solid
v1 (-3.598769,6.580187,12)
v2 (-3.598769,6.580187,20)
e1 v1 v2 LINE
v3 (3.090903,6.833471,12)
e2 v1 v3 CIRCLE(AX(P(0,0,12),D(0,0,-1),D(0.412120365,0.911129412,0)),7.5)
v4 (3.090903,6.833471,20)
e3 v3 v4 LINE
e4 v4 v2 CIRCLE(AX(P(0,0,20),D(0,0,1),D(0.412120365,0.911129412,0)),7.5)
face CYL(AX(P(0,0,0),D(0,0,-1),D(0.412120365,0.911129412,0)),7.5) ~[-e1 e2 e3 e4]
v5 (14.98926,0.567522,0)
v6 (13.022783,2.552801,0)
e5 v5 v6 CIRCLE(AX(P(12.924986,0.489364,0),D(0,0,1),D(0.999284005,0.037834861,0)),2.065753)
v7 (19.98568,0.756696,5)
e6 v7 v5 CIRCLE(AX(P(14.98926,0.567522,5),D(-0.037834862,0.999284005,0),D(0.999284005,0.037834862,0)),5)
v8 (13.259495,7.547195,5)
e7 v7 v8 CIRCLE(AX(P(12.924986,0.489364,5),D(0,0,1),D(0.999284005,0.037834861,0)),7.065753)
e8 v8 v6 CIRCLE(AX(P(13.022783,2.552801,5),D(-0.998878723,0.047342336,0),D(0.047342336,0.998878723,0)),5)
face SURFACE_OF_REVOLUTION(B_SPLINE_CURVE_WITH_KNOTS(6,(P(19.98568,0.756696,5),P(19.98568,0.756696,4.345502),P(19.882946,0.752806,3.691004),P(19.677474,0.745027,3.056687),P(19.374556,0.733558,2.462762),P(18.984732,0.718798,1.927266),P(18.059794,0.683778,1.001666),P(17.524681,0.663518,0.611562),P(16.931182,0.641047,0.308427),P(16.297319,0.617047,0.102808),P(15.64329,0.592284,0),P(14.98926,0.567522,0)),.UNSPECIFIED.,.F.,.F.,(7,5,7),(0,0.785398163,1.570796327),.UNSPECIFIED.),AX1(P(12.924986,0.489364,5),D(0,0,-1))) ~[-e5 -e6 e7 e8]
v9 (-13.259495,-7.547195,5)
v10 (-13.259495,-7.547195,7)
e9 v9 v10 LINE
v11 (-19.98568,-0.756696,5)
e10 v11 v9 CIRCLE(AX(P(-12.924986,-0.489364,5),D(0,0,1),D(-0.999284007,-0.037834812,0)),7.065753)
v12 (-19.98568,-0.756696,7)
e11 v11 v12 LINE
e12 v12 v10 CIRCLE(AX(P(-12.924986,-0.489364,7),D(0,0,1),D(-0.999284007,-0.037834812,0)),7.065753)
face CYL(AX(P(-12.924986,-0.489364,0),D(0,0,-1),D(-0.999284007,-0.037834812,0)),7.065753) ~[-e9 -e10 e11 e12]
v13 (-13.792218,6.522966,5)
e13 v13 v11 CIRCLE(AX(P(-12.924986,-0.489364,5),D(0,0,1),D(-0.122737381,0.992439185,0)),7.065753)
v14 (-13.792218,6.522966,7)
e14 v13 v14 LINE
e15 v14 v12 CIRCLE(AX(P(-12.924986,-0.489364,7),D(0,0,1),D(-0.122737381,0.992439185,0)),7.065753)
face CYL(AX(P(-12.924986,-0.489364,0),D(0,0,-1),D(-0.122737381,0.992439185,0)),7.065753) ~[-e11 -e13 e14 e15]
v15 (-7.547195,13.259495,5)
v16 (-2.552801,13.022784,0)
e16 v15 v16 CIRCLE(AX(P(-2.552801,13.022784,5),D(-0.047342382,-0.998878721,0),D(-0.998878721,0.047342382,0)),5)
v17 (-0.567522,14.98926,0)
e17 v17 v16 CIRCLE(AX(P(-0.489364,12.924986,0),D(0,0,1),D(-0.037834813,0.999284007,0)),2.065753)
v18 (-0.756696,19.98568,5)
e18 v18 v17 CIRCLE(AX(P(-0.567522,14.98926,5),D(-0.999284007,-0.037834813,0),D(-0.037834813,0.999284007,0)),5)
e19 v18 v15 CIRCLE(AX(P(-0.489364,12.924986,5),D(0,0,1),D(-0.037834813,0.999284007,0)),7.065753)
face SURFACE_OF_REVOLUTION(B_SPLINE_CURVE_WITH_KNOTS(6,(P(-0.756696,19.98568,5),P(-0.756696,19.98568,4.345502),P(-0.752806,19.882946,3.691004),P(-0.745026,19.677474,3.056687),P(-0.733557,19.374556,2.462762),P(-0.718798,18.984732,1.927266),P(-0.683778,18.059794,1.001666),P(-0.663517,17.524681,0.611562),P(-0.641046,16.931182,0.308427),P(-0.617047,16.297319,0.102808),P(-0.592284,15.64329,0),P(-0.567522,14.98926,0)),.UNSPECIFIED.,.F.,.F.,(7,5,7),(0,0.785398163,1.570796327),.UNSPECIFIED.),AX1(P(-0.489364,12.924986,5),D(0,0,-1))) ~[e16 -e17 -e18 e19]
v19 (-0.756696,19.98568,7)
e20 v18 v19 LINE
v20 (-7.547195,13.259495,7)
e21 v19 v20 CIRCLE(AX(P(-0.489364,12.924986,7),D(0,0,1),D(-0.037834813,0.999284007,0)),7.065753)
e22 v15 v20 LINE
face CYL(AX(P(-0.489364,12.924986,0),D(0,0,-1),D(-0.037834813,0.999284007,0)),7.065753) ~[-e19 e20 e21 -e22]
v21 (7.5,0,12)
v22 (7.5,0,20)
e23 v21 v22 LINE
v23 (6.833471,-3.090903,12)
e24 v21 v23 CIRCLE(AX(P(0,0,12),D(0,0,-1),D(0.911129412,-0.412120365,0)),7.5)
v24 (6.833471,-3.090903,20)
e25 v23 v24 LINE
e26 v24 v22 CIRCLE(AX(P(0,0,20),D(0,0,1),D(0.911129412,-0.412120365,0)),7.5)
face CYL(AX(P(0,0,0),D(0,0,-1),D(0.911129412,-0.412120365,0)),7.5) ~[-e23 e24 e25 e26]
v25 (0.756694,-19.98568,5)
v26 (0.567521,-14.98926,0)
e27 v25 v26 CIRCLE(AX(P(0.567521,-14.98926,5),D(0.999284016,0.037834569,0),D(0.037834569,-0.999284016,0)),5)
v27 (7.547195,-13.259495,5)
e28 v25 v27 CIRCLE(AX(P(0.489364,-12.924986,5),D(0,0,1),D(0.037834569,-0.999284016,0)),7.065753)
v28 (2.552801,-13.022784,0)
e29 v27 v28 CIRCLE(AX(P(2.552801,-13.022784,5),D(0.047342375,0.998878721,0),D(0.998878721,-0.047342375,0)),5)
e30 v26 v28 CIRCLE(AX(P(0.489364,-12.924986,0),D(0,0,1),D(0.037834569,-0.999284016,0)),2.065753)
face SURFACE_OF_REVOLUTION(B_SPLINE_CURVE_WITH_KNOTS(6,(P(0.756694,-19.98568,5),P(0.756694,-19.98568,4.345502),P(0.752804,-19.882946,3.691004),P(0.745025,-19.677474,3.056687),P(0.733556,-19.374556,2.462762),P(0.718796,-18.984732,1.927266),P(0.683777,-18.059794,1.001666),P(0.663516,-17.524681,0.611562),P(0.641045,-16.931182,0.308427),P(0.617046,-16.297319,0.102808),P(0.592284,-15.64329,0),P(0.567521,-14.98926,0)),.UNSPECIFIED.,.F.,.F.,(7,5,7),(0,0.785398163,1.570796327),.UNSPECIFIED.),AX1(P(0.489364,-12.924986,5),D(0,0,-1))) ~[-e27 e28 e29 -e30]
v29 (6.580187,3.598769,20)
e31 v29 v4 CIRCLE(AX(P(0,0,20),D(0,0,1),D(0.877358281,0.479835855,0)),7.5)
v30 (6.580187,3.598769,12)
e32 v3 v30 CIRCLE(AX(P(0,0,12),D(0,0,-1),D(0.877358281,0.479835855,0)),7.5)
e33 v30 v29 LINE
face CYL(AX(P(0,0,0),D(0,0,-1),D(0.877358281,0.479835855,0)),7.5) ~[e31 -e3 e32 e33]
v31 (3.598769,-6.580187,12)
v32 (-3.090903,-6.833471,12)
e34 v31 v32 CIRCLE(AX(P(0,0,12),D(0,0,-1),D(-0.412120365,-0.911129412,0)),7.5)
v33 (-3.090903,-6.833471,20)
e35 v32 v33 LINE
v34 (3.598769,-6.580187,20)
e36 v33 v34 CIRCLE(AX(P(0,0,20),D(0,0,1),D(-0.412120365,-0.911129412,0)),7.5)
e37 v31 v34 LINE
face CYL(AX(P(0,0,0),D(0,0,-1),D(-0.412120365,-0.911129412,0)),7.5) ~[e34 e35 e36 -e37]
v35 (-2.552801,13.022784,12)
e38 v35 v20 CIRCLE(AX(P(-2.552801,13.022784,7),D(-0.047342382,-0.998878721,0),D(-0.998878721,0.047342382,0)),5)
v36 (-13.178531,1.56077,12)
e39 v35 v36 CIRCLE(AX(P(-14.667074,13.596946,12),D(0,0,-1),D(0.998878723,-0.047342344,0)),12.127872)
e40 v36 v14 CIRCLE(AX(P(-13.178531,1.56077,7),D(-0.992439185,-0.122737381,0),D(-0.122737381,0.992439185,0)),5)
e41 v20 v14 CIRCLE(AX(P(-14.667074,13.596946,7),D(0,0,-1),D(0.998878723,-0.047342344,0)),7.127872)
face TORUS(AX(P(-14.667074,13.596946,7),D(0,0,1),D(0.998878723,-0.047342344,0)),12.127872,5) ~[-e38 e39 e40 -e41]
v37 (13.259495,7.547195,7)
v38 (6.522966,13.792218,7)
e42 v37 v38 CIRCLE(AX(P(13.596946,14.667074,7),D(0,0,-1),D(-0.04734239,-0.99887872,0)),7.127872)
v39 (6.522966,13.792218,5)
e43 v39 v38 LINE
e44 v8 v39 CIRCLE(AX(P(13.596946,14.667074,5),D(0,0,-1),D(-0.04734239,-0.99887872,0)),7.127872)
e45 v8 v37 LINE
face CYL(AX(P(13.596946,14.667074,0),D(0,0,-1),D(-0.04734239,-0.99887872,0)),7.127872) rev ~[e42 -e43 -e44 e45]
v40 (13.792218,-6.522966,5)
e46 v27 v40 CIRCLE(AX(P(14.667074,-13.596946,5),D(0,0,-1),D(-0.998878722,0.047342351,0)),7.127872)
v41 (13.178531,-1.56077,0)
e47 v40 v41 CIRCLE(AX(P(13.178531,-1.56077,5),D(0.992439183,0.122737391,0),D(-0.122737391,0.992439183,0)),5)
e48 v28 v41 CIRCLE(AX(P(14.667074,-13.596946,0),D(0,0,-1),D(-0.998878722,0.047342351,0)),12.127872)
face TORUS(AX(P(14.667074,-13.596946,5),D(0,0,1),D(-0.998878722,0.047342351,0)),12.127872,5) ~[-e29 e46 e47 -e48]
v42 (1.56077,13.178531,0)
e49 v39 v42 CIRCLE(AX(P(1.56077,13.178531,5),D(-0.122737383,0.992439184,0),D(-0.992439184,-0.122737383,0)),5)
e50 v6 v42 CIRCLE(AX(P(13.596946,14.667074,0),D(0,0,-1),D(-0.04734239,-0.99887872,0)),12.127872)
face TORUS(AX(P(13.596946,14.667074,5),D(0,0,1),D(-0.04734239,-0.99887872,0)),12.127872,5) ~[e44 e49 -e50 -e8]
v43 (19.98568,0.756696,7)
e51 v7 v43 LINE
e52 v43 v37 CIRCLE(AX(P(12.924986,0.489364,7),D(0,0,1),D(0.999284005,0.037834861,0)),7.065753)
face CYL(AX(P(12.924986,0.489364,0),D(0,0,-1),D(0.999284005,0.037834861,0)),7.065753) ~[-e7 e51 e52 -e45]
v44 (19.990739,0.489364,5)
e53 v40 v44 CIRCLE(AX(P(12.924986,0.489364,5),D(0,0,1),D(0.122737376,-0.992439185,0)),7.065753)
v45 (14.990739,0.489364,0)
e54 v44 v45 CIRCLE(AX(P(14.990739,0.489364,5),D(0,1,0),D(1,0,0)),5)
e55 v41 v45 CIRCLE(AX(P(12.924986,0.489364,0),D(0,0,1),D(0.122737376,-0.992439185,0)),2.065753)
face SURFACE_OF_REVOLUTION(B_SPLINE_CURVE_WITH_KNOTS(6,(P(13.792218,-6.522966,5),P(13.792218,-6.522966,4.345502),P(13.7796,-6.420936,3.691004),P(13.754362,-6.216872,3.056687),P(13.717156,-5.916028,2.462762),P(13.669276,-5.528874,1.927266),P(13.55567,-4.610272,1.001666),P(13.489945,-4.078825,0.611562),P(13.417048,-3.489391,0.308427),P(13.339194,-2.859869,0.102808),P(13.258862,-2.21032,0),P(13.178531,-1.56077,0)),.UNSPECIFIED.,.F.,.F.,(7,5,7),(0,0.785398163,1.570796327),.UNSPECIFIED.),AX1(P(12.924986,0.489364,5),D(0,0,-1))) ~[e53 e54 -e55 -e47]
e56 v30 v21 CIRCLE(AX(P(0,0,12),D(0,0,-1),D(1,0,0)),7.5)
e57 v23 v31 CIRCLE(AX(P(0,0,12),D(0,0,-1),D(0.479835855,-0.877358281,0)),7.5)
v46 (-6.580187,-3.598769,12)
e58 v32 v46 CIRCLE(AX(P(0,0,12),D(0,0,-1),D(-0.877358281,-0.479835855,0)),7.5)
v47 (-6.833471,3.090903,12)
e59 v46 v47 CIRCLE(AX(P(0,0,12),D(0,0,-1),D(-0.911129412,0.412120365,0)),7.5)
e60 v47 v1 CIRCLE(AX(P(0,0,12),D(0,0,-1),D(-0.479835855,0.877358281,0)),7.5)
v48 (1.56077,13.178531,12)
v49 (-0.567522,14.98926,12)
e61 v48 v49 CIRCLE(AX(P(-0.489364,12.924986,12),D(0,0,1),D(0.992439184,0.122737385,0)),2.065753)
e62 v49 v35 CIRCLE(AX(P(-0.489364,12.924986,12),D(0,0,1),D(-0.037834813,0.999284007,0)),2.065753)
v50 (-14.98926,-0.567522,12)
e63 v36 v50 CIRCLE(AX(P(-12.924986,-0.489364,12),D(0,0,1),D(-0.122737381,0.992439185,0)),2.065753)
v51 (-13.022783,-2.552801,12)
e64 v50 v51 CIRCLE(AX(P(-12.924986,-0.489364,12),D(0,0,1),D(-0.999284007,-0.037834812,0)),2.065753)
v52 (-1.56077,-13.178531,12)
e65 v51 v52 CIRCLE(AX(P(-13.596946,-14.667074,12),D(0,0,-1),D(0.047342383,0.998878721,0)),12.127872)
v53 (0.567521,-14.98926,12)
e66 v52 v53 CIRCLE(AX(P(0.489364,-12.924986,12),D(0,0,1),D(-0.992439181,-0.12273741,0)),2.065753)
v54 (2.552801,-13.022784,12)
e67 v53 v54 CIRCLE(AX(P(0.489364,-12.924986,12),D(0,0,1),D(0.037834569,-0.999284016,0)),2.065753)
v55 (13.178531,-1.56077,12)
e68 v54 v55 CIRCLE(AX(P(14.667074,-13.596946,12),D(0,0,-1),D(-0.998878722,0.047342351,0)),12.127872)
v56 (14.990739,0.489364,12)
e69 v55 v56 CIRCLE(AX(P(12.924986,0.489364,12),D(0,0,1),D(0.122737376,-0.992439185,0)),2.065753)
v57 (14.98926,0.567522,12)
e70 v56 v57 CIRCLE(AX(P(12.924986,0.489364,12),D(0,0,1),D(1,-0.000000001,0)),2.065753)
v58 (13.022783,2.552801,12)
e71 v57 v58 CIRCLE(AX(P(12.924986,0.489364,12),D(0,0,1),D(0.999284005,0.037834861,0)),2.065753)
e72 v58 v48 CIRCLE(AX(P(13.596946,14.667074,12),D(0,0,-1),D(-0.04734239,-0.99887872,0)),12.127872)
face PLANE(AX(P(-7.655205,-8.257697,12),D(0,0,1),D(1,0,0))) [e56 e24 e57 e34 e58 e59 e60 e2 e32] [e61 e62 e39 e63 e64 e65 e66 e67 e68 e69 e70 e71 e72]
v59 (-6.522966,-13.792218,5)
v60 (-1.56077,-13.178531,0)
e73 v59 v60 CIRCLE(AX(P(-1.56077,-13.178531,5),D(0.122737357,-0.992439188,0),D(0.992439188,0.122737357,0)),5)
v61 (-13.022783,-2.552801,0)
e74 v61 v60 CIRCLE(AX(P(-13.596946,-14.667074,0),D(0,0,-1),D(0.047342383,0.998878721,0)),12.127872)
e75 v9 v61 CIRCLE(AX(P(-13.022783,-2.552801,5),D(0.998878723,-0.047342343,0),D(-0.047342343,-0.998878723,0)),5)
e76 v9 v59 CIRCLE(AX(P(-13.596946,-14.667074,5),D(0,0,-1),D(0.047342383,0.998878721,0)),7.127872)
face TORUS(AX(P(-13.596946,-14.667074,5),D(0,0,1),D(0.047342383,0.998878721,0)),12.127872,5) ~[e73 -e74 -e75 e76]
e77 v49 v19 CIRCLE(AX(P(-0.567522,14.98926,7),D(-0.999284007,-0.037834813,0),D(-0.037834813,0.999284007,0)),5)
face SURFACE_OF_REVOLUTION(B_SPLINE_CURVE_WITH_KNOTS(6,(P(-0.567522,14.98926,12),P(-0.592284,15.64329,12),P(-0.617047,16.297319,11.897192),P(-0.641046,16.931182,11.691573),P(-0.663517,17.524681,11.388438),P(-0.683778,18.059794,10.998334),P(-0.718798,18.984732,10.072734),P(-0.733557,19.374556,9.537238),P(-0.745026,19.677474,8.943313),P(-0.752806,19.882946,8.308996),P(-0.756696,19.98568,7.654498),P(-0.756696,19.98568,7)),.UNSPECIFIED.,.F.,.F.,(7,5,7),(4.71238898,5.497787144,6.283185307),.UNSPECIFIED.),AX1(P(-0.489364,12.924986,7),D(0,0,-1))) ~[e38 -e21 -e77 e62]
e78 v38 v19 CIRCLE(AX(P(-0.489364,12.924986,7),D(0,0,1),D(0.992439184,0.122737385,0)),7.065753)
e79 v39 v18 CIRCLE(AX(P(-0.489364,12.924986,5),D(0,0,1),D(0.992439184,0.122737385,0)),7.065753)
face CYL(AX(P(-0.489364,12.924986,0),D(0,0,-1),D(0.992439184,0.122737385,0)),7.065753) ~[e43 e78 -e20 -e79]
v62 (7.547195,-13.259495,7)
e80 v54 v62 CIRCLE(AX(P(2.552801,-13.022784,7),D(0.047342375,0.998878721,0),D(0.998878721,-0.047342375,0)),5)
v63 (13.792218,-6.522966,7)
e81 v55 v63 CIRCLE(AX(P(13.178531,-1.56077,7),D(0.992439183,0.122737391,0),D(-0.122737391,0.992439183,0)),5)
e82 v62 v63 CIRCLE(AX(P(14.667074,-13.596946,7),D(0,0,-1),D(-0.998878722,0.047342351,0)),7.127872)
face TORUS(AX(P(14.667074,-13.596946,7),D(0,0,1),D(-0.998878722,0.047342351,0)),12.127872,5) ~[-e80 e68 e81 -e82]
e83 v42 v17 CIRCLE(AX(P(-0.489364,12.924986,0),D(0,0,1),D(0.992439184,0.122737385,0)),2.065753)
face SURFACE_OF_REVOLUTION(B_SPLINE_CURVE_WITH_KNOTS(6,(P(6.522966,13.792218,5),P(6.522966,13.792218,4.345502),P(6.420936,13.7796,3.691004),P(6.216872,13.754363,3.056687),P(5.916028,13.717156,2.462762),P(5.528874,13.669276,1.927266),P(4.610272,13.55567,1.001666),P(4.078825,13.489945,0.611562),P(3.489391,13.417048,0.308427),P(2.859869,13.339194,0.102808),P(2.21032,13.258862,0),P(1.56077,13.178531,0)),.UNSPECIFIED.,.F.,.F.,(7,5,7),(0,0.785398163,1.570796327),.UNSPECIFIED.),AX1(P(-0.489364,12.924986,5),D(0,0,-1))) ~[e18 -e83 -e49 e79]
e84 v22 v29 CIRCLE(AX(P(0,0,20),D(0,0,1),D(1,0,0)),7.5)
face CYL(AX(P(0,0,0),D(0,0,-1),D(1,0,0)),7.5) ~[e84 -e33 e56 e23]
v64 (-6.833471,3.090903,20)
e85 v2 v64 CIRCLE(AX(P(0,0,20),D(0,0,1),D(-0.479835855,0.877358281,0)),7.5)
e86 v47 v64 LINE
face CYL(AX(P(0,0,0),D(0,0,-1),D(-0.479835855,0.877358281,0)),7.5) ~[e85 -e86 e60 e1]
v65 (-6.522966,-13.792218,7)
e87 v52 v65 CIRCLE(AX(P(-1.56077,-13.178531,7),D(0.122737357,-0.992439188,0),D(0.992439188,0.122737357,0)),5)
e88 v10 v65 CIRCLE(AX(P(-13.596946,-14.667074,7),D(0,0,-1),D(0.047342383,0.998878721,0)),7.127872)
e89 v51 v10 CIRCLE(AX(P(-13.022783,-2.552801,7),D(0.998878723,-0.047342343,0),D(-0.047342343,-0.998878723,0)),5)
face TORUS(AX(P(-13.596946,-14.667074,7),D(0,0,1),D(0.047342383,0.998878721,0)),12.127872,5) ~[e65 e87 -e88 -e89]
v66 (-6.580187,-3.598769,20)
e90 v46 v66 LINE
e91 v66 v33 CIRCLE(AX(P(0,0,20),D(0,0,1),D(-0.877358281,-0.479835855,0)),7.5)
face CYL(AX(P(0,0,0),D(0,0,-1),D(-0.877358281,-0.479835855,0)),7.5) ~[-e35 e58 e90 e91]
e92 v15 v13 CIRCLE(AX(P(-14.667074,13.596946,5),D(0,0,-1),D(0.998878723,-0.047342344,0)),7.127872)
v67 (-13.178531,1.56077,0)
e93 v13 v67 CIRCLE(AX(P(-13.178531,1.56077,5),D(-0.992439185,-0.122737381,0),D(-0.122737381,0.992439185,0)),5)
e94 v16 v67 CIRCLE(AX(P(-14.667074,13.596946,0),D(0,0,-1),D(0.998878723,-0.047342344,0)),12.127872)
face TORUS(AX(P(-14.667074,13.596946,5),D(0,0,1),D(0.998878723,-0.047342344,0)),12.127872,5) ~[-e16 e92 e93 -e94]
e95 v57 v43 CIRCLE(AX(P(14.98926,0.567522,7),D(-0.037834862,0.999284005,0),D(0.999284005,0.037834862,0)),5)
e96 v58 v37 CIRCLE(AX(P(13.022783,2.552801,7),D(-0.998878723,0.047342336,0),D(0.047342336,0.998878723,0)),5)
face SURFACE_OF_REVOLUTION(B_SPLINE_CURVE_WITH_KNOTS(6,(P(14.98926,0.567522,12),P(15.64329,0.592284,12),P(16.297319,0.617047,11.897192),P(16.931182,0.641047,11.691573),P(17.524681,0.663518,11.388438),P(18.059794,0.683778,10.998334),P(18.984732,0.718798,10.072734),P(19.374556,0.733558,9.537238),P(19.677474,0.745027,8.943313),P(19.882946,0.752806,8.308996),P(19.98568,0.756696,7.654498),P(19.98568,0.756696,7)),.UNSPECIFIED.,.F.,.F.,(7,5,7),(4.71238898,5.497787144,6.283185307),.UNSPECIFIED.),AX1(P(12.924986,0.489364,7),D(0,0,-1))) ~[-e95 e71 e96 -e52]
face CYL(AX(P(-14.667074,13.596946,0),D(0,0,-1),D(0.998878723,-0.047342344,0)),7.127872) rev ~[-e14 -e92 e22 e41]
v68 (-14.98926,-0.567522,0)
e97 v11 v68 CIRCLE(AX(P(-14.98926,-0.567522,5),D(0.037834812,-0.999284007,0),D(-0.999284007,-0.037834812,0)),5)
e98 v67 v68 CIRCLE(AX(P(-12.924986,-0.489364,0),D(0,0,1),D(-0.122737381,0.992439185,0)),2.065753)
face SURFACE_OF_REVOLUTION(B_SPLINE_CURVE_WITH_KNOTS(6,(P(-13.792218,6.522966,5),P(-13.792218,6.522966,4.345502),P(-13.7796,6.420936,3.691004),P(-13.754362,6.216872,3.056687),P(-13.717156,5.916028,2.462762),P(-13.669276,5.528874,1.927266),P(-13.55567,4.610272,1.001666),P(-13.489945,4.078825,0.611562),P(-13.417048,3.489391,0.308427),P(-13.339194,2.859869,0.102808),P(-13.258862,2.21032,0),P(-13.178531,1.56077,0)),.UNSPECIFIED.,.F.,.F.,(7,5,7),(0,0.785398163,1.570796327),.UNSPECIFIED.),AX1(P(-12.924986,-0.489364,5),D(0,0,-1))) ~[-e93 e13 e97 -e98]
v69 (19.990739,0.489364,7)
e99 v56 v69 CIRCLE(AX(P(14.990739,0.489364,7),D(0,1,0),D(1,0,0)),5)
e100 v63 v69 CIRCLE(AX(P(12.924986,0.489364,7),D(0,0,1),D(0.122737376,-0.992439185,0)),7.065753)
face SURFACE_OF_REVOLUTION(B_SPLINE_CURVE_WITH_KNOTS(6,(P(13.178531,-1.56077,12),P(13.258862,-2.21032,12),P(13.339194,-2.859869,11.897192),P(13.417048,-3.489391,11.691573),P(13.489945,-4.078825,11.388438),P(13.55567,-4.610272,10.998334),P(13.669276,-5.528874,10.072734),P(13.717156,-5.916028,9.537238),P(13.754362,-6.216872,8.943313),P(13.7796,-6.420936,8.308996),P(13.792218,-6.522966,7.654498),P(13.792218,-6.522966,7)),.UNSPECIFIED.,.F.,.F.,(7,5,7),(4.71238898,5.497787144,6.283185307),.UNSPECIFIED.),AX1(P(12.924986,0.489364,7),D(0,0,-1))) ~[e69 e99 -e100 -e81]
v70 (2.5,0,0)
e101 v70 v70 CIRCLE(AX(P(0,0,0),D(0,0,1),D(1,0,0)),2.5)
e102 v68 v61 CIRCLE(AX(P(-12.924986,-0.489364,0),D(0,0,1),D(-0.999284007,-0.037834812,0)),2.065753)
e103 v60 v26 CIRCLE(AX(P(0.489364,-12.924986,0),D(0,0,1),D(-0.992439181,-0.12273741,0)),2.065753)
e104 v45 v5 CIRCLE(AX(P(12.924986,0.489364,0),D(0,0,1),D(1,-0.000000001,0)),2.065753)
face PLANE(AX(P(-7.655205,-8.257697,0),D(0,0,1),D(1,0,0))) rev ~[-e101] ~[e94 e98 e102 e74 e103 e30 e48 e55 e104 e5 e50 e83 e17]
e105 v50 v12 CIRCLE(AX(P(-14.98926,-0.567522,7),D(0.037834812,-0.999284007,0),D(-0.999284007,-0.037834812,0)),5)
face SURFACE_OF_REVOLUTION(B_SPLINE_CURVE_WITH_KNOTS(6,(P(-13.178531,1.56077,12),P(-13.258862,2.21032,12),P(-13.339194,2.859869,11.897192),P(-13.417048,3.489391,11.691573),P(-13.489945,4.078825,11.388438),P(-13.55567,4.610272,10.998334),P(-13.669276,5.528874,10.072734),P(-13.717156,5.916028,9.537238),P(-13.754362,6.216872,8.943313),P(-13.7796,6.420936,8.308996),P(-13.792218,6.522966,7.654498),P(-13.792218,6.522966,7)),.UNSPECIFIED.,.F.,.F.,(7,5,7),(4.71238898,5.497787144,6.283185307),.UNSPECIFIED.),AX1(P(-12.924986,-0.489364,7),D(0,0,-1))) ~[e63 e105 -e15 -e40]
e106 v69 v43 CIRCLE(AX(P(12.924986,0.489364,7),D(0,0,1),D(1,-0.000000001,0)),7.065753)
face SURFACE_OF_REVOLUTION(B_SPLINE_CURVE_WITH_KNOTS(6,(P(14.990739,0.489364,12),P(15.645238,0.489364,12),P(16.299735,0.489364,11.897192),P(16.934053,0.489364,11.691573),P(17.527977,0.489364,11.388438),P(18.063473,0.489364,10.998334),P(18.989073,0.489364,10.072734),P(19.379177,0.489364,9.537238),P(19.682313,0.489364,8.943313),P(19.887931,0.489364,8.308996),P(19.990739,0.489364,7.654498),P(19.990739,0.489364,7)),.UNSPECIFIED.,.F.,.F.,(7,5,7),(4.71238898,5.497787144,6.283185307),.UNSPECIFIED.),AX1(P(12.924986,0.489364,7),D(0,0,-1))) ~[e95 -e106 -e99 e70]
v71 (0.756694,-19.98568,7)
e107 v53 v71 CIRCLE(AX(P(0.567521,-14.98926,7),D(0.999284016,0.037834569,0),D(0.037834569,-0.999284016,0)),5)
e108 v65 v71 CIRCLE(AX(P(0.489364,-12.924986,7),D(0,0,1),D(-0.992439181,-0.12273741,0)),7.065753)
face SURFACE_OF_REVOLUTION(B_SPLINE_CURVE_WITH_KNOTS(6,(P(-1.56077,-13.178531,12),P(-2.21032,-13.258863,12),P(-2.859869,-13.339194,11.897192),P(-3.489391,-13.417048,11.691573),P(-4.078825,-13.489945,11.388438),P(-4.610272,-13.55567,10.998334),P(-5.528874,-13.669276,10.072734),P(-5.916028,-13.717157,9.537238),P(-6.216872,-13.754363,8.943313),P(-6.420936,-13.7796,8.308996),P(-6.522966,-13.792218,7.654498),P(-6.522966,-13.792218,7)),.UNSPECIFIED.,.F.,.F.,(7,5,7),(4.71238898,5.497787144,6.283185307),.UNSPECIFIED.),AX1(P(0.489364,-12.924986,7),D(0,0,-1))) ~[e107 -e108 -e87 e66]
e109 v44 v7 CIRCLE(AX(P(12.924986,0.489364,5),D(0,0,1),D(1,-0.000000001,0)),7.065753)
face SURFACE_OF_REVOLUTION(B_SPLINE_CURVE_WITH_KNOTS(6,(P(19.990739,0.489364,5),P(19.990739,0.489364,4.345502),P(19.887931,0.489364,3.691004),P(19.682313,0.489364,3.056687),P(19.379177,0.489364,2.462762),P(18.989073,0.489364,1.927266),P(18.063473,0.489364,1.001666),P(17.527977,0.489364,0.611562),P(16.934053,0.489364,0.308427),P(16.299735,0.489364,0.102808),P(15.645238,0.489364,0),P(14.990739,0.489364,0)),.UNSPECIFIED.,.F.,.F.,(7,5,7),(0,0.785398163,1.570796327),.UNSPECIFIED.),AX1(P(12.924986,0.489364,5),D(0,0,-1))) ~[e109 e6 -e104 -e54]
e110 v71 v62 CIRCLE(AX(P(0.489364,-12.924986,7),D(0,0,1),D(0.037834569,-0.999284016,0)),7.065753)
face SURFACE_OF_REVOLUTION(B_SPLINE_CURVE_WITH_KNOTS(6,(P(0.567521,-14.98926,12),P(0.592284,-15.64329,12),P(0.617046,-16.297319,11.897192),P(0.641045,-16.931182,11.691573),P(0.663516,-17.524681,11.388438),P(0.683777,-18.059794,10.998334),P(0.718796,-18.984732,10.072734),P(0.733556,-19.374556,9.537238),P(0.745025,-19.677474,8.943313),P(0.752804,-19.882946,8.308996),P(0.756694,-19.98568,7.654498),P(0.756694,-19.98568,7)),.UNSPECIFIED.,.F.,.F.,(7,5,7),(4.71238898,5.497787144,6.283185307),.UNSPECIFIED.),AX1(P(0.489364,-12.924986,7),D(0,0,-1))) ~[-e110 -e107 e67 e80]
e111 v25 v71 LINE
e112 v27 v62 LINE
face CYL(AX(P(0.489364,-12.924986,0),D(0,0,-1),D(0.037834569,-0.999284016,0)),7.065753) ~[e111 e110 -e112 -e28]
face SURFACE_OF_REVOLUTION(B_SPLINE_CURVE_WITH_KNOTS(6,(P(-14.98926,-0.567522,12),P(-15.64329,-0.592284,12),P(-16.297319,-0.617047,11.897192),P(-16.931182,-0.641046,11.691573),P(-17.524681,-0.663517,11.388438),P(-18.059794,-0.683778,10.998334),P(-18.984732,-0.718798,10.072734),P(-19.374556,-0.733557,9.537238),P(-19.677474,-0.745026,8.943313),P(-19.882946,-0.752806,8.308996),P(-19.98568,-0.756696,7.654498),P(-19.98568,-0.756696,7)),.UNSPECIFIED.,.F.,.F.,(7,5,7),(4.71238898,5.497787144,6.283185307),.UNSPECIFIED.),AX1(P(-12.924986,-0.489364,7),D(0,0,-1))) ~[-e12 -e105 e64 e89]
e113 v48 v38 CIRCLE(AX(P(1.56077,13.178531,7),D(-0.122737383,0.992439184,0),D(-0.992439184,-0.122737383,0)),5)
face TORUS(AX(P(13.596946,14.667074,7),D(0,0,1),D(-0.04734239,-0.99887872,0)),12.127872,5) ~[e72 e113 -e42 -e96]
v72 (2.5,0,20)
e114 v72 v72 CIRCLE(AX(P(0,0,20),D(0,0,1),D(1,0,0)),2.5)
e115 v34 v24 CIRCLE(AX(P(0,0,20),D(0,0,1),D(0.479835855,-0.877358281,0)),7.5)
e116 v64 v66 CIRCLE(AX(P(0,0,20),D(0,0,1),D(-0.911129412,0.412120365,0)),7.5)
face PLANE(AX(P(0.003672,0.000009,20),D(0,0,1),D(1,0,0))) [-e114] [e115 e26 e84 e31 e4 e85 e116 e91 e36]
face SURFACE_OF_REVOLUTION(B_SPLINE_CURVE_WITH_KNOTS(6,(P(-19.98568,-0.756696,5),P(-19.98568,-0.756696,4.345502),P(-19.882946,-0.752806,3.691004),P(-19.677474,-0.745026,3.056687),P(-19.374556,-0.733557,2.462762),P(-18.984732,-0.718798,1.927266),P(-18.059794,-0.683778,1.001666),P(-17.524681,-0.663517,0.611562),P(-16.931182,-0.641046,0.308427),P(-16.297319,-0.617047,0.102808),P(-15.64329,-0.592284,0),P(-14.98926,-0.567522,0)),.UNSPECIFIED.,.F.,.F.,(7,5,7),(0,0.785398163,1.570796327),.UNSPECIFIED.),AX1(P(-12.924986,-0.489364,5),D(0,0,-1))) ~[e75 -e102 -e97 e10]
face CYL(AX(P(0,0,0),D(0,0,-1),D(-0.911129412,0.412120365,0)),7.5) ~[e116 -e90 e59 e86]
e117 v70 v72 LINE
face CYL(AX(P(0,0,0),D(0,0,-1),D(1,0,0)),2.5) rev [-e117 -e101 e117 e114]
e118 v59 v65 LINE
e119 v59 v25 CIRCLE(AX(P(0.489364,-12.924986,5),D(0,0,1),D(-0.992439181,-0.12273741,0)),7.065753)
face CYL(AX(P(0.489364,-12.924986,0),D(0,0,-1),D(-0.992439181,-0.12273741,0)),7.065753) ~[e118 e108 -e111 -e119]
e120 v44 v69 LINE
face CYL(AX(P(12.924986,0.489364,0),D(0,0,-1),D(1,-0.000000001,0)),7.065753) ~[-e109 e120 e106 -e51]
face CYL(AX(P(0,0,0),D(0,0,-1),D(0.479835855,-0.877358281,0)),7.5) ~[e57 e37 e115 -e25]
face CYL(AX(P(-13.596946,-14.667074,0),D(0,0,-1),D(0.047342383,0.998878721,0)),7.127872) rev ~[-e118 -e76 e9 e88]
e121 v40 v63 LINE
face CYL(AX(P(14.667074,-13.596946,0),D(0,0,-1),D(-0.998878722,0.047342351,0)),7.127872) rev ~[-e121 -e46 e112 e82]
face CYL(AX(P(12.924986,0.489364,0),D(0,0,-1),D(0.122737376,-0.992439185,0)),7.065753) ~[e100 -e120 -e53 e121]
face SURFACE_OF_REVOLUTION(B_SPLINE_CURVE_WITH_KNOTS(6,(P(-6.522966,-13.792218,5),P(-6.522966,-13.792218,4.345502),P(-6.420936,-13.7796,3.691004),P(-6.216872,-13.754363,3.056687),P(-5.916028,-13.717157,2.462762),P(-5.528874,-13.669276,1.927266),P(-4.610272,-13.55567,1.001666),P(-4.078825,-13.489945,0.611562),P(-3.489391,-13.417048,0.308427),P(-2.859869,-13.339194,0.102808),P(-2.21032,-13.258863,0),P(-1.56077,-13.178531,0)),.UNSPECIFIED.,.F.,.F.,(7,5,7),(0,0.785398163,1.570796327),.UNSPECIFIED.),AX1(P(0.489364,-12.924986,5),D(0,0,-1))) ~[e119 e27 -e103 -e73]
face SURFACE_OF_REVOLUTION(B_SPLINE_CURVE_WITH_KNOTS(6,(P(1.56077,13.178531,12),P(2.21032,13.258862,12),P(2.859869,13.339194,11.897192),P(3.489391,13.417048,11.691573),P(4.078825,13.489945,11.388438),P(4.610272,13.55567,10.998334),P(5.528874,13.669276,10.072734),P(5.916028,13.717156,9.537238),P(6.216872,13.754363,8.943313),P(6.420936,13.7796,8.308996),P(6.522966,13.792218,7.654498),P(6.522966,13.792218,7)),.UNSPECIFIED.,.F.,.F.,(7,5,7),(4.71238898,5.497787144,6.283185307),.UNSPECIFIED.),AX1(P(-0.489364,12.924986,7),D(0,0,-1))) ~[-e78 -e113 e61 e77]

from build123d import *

# Parameters (mm, degrees)
F0_R     = 2.5
F1_DEPTH = 20
F2_DEPTH = 12
F3_R     = 5


with BuildPart() as f1:
    # F0 (on Top) → F1 (new body)
    with BuildSketch(Plane.XY):
        with BuildLine():
            ThreePointArc((6.8334705864, -3.0909027395), (5.8642916103, 0.2220330494), (6.5801871048, 3.5987689097))
            ThreePointArc((6.5801871048, 3.5987689097), (5.0988546193, 5.500152868), (3.0909027395, 6.8334705864))
            ThreePointArc((3.0909027395, 6.8334705864), (-0.2220330494, 5.8642916103), (-3.5987689097, 6.5801871048))
            ThreePointArc((-3.5987689097, 6.5801871048), (-5.500152868, 5.0988546193), (-6.8334705864, 3.0909027395))
            ThreePointArc((-6.8334705864, 3.0909027395), (-6.1071411443, 1.3658616264), (-5.8592325951, -0.489364142))
            ThreePointArc((-5.8592325951, -0.489364142), (-6.0418306344, -2.0853100539), (-6.5801871048, -3.5987689097))
            ThreePointArc((-6.5801871048, -3.5987689097), (-5.0988546193, -5.500152868), (-3.0909027395, -6.8334705864))
            ThreePointArc((-3.0909027395, -6.8334705864), (0.2220330494, -5.8642916103), (3.5987689097, -6.5801871048))
            ThreePointArc((3.5987689097, -6.5801871048), (5.500152868, -5.0988546193), (6.8334705864, -3.0909027395))
        make_face()
        Circle(F0_R, mode=Mode.SUBTRACT)
        with BuildLine():
            ThreePointArc((-3.5987689097, 6.5801871048), (-0.2220330494, 5.8642916103), (3.0909027395, 6.8334705864))
            ThreePointArc((3.0909027395, 6.8334705864), (-0.283760713, 7.4946300681), (-3.5987689097, 6.5801871048))
        make_face()
        with BuildLine():
            ThreePointArc((6.8334705864, -3.0909027395), (7.3314742514, -1.5809760596), (7.5, 0))
            ThreePointArc((7.5, 0), (7.2664091299, 1.8572286765), (6.5801871048, 3.5987689097))
            ThreePointArc((6.5801871048, 3.5987689097), (5.8642916103, 0.2220330494), (6.8334705864, -3.0909027395))
        make_face()
        with BuildLine():
            ThreePointArc((-3.0909027395, -6.8334705864), (0.283760713, -7.4946300681), (3.5987689097, -6.5801871048))
            ThreePointArc((3.5987689097, -6.5801871048), (0.2220330494, -5.8642916103), (-3.0909027395, -6.8334705864))
        make_face()
        with BuildLine():
            ThreePointArc((-5.8592325951, -0.489364142), (-6.1071411443, 1.3658616264), (-6.8334705864, 3.0909027395))
            ThreePointArc((-6.8334705864, 3.0909027395), (-7.4946300681, -0.283760713), (-6.5801871048, -3.5987689097))
            ThreePointArc((-6.5801871048, -3.5987689097), (-6.0418306344, -2.0853100539), (-5.8592325951, -0.489364142))
        make_face()
    extrude(amount=F1_DEPTH)

    # F0 (on Top) → F2 (join)
    with BuildSketch(Plane.XY):
        with BuildLine():
            ThreePointArc((-6.5229662777, -13.7922181567), (-5.8475768655, -9.7995981798), (-3.0909027395, -6.8334705864))
            ThreePointArc((-3.0909027395, -6.8334705864), (-5.0988546193, -5.500152868), (-6.5801871048, -3.5987689097))
            ThreePointArc((-6.5801871048, -3.5987689097), (-9.3293758522, -6.5718355247), (-13.2594952145, -7.5471947736))
            ThreePointArc((-13.2594952145, -7.5471947736), (-8.751081206, -9.4398231008), (-6.5229662777, -13.7922181567))
        make_face()
        with BuildLine():
            ThreePointArc((6.5801871048, 3.5987689097), (7.2664091299, 1.8572286765), (7.5, 0))
            ThreePointArc((7.5, 0), (7.3314742514, -1.5809760596), (6.8334705864, -3.0909027395))
            ThreePointArc((6.8334705864, -3.0909027395), (9.7995980718, -5.8475768122), (13.7922179176, -6.5229663073))
            ThreePointArc((13.7922179176, -6.5229663073), (18.2189691424, -4.1902310429), (19.9907391968, 0.489364142))
            ThreePointArc((19.9907391968, 0.489364142), (19.9894743232, 0.6230539717), (19.985680155, 0.7566959365))
            ThreePointArc((19.985680155, 0.7566959365), (17.9449438052, 5.4617772682), (13.2594951602, 7.5471947762))
            ThreePointArc((13.2594951602, 7.5471947762), (9.3293758288, 6.5718355109), (6.5801871048, 3.5987689097))
        make_face()
        with BuildLine():
            ThreePointArc((13.7922179176, -6.5229663073), (9.7995980718, -5.8475768122), (6.8334705864, -3.0909027395))
            ThreePointArc((6.8334705864, -3.0909027395), (5.500152868, -5.0988546193), (3.5987689097, -6.5801871048))
            ThreePointArc((3.5987689097, -6.5801871048), (6.4849940801, -9.1863643112), (7.5551174429, -12.9249858959))
            ThreePointArc((7.5551174429, -12.9249858959), (7.5531364952, -13.0922875721), (7.547194763, -13.2594954392))
            ThreePointArc((7.547194763, -13.2594954392), (9.4398229424, -8.7510813768), (13.7922179176, -6.5229663073))
        make_face()
        with BuildLine():
            ThreePointArc((6.8334705864, -3.0909027395), (5.8642916103, 0.2220330494), (6.5801871048, 3.5987689097))
            ThreePointArc((6.5801871048, 3.5987689097), (5.0988546193, 5.500152868), (3.0909027395, 6.8334705864))
            ThreePointArc((3.0909027395, 6.8334705864), (-0.2220330494, 5.8642916103), (-3.5987689097, 6.5801871048))
            ThreePointArc((-3.5987689097, 6.5801871048), (-5.500152868, 5.0988546193), (-6.8334705864, 3.0909027395))
            ThreePointArc((-6.8334705864, 3.0909027395), (-6.1071411443, 1.3658616264), (-5.8592325951, -0.489364142))
            ThreePointArc((-5.8592325951, -0.489364142), (-6.0418306344, -2.0853100539), (-6.5801871048, -3.5987689097))
            ThreePointArc((-6.5801871048, -3.5987689097), (-5.0988546193, -5.500152868), (-3.0909027395, -6.8334705864))
            ThreePointArc((-3.0909027395, -6.8334705864), (0.2220330494, -5.8642916103), (3.5987689097, -6.5801871048))
            ThreePointArc((3.5987689097, -6.5801871048), (5.500152868, -5.0988546193), (6.8334705864, -3.0909027395))
        make_face()
        Circle(F0_R, mode=Mode.SUBTRACT)
        with BuildLine():
            ThreePointArc((6.8334705864, -3.0909027395), (7.3314742514, -1.5809760596), (7.5, 0))
            ThreePointArc((7.5, 0), (7.2664091299, 1.8572286765), (6.5801871048, 3.5987689097))
            ThreePointArc((6.5801871048, 3.5987689097), (5.8642916103, 0.2220330494), (6.8334705864, -3.0909027395))
        make_face()
        with BuildLine():
            ThreePointArc((7.5551174429, -12.9249858959), (6.4849940801, -9.1863643112), (3.5987689097, -6.5801871048))
            ThreePointArc((3.5987689097, -6.5801871048), (0.283760713, -7.4946300681), (-3.0909027395, -6.8334705864))
            ThreePointArc((-3.0909027395, -6.8334705864), (-5.8475768655, -9.7995981798), (-6.5229662777, -13.7922181567))
            ThreePointArc((-6.5229662777, -13.7922181567), (-4.0892275286, -18.3065626187), (0.7566938759, -19.9856802331))
            ThreePointArc((0.7566938759, -19.9856802331), (5.4617764365, -17.9449446291), (7.547194763, -13.2594954392))
            ThreePointArc((7.547194763, -13.2594954392), (7.5531364952, -13.0922875721), (7.5551174429, -12.9249858959))
        make_face()
        with BuildLine():
            ThreePointArc((3.0909027395, 6.8334705864), (5.0988546193, 5.500152868), (6.5801871048, 3.5987689097))
            ThreePointArc((6.5801871048, 3.5987689097), (9.3293758288, 6.5718355109), (13.2594951602, 7.5471947762))
            ThreePointArc((13.2594951602, 7.5471947762), (8.7510812527, 9.4398230574), (6.5229663, 13.7922179762))
            ThreePointArc((6.5229663, 13.7922179762), (6.5630207977, 13.3594238901), (6.5763891589, 12.9249858959))
            ThreePointArc((6.5763891589, 12.9249858959), (5.6434228364, 9.4158843604), (3.0909027395, 6.8334705864))
        make_face()
        with BuildLine():
            ThreePointArc((-3.5987689097, 6.5801871048), (-0.283760713, 7.4946300681), (3.0909027395, 6.8334705864))
            ThreePointArc((3.0909027395, 6.8334705864), (5.6434228364, 9.4158843604), (6.5763891589, 12.9249858959))
            ThreePointArc((6.5763891589, 12.9249858959), (6.5630207977, 13.3594238901), (6.5229663, 13.7922179762))
            ThreePointArc((6.5229663, 13.7922179762), (4.0892269422, 18.3065631176), (-0.7566955961, 19.9856801679))
            ThreePointArc((-0.7566955961, 19.9856801679), (-5.4617770309, 17.9449440403), (-7.5471947607, 13.2594954872))
            ThreePointArc((-7.5471947607, 13.2594954872), (-6.5718355942, 9.3293759697), (-3.5987689097, 6.5801871048))
        make_face()
        with BuildLine():
            ThreePointArc((-6.8334705864, 3.0909027395), (-5.500152868, 5.0988546193), (-3.5987689097, 6.5801871048))
            ThreePointArc((-3.5987689097, 6.5801871048), (-6.5718355942, 9.3293759697), (-7.5471947607, 13.2594954872))
            ThreePointArc((-7.5471947607, 13.2594954872), (-9.4398229383, 8.7510813813), (-13.7922179532, 6.5229663029))
            ThreePointArc((-13.7922179532, 6.5229663029), (-9.7995980879, 5.8475768202), (-6.8334705864, 3.0909027395))
        make_face()
        with BuildLine():
            ThreePointArc((-6.5801871048, -3.5987689097), (-7.4946300681, -0.283760713), (-6.8334705864, 3.0909027395))
            ThreePointArc((-6.8334705864, 3.0909027395), (-9.7995980879, 5.8475768202), (-13.7922179532, 6.5229663029))
            ThreePointArc((-13.7922179532, 6.5229663029), (-18.3065631087, 4.0892269526), (-19.9856801681, -0.756695592))
            ThreePointArc((-19.9856801681, -0.756695592), (-17.9449439456, -5.4617771265), (-13.2594952145, -7.5471947736))
            ThreePointArc((-13.2594952145, -7.5471947736), (-9.3293758522, -6.5718355247), (-6.5801871048, -3.5987689097))
        make_face()
        with BuildLine():
            ThreePointArc((-5.8592325951, -0.489364142), (-6.1071411443, 1.3658616264), (-6.8334705864, 3.0909027395))
            ThreePointArc((-6.8334705864, 3.0909027395), (-7.4946300681, -0.283760713), (-6.5801871048, -3.5987689097))
            ThreePointArc((-6.5801871048, -3.5987689097), (-6.0418306344, -2.0853100539), (-5.8592325951, -0.489364142))
        make_face()
        with BuildLine():
            ThreePointArc((-3.0909027395, -6.8334705864), (0.283760713, -7.4946300681), (3.5987689097, -6.5801871048))
            ThreePointArc((3.5987689097, -6.5801871048), (0.2220330494, -5.8642916103), (-3.0909027395, -6.8334705864))
        make_face()
        with BuildLine():
            ThreePointArc((-3.5987689097, 6.5801871048), (-0.2220330494, 5.8642916103), (3.0909027395, 6.8334705864))
            ThreePointArc((3.0909027395, 6.8334705864), (-0.283760713, 7.4946300681), (-3.5987689097, 6.5801871048))
        make_face()
    extrude(amount=F2_DEPTH)

    # F3
    f3_edges = [f1.edges().sort_by_distance(p)[0] for p in [
        (-19.98568, -0.756695, 12),
        (-19.98568, -0.756695, 0),
    ]]
    fillet(f3_edges, radius=F3_R)


solid = f1.part
